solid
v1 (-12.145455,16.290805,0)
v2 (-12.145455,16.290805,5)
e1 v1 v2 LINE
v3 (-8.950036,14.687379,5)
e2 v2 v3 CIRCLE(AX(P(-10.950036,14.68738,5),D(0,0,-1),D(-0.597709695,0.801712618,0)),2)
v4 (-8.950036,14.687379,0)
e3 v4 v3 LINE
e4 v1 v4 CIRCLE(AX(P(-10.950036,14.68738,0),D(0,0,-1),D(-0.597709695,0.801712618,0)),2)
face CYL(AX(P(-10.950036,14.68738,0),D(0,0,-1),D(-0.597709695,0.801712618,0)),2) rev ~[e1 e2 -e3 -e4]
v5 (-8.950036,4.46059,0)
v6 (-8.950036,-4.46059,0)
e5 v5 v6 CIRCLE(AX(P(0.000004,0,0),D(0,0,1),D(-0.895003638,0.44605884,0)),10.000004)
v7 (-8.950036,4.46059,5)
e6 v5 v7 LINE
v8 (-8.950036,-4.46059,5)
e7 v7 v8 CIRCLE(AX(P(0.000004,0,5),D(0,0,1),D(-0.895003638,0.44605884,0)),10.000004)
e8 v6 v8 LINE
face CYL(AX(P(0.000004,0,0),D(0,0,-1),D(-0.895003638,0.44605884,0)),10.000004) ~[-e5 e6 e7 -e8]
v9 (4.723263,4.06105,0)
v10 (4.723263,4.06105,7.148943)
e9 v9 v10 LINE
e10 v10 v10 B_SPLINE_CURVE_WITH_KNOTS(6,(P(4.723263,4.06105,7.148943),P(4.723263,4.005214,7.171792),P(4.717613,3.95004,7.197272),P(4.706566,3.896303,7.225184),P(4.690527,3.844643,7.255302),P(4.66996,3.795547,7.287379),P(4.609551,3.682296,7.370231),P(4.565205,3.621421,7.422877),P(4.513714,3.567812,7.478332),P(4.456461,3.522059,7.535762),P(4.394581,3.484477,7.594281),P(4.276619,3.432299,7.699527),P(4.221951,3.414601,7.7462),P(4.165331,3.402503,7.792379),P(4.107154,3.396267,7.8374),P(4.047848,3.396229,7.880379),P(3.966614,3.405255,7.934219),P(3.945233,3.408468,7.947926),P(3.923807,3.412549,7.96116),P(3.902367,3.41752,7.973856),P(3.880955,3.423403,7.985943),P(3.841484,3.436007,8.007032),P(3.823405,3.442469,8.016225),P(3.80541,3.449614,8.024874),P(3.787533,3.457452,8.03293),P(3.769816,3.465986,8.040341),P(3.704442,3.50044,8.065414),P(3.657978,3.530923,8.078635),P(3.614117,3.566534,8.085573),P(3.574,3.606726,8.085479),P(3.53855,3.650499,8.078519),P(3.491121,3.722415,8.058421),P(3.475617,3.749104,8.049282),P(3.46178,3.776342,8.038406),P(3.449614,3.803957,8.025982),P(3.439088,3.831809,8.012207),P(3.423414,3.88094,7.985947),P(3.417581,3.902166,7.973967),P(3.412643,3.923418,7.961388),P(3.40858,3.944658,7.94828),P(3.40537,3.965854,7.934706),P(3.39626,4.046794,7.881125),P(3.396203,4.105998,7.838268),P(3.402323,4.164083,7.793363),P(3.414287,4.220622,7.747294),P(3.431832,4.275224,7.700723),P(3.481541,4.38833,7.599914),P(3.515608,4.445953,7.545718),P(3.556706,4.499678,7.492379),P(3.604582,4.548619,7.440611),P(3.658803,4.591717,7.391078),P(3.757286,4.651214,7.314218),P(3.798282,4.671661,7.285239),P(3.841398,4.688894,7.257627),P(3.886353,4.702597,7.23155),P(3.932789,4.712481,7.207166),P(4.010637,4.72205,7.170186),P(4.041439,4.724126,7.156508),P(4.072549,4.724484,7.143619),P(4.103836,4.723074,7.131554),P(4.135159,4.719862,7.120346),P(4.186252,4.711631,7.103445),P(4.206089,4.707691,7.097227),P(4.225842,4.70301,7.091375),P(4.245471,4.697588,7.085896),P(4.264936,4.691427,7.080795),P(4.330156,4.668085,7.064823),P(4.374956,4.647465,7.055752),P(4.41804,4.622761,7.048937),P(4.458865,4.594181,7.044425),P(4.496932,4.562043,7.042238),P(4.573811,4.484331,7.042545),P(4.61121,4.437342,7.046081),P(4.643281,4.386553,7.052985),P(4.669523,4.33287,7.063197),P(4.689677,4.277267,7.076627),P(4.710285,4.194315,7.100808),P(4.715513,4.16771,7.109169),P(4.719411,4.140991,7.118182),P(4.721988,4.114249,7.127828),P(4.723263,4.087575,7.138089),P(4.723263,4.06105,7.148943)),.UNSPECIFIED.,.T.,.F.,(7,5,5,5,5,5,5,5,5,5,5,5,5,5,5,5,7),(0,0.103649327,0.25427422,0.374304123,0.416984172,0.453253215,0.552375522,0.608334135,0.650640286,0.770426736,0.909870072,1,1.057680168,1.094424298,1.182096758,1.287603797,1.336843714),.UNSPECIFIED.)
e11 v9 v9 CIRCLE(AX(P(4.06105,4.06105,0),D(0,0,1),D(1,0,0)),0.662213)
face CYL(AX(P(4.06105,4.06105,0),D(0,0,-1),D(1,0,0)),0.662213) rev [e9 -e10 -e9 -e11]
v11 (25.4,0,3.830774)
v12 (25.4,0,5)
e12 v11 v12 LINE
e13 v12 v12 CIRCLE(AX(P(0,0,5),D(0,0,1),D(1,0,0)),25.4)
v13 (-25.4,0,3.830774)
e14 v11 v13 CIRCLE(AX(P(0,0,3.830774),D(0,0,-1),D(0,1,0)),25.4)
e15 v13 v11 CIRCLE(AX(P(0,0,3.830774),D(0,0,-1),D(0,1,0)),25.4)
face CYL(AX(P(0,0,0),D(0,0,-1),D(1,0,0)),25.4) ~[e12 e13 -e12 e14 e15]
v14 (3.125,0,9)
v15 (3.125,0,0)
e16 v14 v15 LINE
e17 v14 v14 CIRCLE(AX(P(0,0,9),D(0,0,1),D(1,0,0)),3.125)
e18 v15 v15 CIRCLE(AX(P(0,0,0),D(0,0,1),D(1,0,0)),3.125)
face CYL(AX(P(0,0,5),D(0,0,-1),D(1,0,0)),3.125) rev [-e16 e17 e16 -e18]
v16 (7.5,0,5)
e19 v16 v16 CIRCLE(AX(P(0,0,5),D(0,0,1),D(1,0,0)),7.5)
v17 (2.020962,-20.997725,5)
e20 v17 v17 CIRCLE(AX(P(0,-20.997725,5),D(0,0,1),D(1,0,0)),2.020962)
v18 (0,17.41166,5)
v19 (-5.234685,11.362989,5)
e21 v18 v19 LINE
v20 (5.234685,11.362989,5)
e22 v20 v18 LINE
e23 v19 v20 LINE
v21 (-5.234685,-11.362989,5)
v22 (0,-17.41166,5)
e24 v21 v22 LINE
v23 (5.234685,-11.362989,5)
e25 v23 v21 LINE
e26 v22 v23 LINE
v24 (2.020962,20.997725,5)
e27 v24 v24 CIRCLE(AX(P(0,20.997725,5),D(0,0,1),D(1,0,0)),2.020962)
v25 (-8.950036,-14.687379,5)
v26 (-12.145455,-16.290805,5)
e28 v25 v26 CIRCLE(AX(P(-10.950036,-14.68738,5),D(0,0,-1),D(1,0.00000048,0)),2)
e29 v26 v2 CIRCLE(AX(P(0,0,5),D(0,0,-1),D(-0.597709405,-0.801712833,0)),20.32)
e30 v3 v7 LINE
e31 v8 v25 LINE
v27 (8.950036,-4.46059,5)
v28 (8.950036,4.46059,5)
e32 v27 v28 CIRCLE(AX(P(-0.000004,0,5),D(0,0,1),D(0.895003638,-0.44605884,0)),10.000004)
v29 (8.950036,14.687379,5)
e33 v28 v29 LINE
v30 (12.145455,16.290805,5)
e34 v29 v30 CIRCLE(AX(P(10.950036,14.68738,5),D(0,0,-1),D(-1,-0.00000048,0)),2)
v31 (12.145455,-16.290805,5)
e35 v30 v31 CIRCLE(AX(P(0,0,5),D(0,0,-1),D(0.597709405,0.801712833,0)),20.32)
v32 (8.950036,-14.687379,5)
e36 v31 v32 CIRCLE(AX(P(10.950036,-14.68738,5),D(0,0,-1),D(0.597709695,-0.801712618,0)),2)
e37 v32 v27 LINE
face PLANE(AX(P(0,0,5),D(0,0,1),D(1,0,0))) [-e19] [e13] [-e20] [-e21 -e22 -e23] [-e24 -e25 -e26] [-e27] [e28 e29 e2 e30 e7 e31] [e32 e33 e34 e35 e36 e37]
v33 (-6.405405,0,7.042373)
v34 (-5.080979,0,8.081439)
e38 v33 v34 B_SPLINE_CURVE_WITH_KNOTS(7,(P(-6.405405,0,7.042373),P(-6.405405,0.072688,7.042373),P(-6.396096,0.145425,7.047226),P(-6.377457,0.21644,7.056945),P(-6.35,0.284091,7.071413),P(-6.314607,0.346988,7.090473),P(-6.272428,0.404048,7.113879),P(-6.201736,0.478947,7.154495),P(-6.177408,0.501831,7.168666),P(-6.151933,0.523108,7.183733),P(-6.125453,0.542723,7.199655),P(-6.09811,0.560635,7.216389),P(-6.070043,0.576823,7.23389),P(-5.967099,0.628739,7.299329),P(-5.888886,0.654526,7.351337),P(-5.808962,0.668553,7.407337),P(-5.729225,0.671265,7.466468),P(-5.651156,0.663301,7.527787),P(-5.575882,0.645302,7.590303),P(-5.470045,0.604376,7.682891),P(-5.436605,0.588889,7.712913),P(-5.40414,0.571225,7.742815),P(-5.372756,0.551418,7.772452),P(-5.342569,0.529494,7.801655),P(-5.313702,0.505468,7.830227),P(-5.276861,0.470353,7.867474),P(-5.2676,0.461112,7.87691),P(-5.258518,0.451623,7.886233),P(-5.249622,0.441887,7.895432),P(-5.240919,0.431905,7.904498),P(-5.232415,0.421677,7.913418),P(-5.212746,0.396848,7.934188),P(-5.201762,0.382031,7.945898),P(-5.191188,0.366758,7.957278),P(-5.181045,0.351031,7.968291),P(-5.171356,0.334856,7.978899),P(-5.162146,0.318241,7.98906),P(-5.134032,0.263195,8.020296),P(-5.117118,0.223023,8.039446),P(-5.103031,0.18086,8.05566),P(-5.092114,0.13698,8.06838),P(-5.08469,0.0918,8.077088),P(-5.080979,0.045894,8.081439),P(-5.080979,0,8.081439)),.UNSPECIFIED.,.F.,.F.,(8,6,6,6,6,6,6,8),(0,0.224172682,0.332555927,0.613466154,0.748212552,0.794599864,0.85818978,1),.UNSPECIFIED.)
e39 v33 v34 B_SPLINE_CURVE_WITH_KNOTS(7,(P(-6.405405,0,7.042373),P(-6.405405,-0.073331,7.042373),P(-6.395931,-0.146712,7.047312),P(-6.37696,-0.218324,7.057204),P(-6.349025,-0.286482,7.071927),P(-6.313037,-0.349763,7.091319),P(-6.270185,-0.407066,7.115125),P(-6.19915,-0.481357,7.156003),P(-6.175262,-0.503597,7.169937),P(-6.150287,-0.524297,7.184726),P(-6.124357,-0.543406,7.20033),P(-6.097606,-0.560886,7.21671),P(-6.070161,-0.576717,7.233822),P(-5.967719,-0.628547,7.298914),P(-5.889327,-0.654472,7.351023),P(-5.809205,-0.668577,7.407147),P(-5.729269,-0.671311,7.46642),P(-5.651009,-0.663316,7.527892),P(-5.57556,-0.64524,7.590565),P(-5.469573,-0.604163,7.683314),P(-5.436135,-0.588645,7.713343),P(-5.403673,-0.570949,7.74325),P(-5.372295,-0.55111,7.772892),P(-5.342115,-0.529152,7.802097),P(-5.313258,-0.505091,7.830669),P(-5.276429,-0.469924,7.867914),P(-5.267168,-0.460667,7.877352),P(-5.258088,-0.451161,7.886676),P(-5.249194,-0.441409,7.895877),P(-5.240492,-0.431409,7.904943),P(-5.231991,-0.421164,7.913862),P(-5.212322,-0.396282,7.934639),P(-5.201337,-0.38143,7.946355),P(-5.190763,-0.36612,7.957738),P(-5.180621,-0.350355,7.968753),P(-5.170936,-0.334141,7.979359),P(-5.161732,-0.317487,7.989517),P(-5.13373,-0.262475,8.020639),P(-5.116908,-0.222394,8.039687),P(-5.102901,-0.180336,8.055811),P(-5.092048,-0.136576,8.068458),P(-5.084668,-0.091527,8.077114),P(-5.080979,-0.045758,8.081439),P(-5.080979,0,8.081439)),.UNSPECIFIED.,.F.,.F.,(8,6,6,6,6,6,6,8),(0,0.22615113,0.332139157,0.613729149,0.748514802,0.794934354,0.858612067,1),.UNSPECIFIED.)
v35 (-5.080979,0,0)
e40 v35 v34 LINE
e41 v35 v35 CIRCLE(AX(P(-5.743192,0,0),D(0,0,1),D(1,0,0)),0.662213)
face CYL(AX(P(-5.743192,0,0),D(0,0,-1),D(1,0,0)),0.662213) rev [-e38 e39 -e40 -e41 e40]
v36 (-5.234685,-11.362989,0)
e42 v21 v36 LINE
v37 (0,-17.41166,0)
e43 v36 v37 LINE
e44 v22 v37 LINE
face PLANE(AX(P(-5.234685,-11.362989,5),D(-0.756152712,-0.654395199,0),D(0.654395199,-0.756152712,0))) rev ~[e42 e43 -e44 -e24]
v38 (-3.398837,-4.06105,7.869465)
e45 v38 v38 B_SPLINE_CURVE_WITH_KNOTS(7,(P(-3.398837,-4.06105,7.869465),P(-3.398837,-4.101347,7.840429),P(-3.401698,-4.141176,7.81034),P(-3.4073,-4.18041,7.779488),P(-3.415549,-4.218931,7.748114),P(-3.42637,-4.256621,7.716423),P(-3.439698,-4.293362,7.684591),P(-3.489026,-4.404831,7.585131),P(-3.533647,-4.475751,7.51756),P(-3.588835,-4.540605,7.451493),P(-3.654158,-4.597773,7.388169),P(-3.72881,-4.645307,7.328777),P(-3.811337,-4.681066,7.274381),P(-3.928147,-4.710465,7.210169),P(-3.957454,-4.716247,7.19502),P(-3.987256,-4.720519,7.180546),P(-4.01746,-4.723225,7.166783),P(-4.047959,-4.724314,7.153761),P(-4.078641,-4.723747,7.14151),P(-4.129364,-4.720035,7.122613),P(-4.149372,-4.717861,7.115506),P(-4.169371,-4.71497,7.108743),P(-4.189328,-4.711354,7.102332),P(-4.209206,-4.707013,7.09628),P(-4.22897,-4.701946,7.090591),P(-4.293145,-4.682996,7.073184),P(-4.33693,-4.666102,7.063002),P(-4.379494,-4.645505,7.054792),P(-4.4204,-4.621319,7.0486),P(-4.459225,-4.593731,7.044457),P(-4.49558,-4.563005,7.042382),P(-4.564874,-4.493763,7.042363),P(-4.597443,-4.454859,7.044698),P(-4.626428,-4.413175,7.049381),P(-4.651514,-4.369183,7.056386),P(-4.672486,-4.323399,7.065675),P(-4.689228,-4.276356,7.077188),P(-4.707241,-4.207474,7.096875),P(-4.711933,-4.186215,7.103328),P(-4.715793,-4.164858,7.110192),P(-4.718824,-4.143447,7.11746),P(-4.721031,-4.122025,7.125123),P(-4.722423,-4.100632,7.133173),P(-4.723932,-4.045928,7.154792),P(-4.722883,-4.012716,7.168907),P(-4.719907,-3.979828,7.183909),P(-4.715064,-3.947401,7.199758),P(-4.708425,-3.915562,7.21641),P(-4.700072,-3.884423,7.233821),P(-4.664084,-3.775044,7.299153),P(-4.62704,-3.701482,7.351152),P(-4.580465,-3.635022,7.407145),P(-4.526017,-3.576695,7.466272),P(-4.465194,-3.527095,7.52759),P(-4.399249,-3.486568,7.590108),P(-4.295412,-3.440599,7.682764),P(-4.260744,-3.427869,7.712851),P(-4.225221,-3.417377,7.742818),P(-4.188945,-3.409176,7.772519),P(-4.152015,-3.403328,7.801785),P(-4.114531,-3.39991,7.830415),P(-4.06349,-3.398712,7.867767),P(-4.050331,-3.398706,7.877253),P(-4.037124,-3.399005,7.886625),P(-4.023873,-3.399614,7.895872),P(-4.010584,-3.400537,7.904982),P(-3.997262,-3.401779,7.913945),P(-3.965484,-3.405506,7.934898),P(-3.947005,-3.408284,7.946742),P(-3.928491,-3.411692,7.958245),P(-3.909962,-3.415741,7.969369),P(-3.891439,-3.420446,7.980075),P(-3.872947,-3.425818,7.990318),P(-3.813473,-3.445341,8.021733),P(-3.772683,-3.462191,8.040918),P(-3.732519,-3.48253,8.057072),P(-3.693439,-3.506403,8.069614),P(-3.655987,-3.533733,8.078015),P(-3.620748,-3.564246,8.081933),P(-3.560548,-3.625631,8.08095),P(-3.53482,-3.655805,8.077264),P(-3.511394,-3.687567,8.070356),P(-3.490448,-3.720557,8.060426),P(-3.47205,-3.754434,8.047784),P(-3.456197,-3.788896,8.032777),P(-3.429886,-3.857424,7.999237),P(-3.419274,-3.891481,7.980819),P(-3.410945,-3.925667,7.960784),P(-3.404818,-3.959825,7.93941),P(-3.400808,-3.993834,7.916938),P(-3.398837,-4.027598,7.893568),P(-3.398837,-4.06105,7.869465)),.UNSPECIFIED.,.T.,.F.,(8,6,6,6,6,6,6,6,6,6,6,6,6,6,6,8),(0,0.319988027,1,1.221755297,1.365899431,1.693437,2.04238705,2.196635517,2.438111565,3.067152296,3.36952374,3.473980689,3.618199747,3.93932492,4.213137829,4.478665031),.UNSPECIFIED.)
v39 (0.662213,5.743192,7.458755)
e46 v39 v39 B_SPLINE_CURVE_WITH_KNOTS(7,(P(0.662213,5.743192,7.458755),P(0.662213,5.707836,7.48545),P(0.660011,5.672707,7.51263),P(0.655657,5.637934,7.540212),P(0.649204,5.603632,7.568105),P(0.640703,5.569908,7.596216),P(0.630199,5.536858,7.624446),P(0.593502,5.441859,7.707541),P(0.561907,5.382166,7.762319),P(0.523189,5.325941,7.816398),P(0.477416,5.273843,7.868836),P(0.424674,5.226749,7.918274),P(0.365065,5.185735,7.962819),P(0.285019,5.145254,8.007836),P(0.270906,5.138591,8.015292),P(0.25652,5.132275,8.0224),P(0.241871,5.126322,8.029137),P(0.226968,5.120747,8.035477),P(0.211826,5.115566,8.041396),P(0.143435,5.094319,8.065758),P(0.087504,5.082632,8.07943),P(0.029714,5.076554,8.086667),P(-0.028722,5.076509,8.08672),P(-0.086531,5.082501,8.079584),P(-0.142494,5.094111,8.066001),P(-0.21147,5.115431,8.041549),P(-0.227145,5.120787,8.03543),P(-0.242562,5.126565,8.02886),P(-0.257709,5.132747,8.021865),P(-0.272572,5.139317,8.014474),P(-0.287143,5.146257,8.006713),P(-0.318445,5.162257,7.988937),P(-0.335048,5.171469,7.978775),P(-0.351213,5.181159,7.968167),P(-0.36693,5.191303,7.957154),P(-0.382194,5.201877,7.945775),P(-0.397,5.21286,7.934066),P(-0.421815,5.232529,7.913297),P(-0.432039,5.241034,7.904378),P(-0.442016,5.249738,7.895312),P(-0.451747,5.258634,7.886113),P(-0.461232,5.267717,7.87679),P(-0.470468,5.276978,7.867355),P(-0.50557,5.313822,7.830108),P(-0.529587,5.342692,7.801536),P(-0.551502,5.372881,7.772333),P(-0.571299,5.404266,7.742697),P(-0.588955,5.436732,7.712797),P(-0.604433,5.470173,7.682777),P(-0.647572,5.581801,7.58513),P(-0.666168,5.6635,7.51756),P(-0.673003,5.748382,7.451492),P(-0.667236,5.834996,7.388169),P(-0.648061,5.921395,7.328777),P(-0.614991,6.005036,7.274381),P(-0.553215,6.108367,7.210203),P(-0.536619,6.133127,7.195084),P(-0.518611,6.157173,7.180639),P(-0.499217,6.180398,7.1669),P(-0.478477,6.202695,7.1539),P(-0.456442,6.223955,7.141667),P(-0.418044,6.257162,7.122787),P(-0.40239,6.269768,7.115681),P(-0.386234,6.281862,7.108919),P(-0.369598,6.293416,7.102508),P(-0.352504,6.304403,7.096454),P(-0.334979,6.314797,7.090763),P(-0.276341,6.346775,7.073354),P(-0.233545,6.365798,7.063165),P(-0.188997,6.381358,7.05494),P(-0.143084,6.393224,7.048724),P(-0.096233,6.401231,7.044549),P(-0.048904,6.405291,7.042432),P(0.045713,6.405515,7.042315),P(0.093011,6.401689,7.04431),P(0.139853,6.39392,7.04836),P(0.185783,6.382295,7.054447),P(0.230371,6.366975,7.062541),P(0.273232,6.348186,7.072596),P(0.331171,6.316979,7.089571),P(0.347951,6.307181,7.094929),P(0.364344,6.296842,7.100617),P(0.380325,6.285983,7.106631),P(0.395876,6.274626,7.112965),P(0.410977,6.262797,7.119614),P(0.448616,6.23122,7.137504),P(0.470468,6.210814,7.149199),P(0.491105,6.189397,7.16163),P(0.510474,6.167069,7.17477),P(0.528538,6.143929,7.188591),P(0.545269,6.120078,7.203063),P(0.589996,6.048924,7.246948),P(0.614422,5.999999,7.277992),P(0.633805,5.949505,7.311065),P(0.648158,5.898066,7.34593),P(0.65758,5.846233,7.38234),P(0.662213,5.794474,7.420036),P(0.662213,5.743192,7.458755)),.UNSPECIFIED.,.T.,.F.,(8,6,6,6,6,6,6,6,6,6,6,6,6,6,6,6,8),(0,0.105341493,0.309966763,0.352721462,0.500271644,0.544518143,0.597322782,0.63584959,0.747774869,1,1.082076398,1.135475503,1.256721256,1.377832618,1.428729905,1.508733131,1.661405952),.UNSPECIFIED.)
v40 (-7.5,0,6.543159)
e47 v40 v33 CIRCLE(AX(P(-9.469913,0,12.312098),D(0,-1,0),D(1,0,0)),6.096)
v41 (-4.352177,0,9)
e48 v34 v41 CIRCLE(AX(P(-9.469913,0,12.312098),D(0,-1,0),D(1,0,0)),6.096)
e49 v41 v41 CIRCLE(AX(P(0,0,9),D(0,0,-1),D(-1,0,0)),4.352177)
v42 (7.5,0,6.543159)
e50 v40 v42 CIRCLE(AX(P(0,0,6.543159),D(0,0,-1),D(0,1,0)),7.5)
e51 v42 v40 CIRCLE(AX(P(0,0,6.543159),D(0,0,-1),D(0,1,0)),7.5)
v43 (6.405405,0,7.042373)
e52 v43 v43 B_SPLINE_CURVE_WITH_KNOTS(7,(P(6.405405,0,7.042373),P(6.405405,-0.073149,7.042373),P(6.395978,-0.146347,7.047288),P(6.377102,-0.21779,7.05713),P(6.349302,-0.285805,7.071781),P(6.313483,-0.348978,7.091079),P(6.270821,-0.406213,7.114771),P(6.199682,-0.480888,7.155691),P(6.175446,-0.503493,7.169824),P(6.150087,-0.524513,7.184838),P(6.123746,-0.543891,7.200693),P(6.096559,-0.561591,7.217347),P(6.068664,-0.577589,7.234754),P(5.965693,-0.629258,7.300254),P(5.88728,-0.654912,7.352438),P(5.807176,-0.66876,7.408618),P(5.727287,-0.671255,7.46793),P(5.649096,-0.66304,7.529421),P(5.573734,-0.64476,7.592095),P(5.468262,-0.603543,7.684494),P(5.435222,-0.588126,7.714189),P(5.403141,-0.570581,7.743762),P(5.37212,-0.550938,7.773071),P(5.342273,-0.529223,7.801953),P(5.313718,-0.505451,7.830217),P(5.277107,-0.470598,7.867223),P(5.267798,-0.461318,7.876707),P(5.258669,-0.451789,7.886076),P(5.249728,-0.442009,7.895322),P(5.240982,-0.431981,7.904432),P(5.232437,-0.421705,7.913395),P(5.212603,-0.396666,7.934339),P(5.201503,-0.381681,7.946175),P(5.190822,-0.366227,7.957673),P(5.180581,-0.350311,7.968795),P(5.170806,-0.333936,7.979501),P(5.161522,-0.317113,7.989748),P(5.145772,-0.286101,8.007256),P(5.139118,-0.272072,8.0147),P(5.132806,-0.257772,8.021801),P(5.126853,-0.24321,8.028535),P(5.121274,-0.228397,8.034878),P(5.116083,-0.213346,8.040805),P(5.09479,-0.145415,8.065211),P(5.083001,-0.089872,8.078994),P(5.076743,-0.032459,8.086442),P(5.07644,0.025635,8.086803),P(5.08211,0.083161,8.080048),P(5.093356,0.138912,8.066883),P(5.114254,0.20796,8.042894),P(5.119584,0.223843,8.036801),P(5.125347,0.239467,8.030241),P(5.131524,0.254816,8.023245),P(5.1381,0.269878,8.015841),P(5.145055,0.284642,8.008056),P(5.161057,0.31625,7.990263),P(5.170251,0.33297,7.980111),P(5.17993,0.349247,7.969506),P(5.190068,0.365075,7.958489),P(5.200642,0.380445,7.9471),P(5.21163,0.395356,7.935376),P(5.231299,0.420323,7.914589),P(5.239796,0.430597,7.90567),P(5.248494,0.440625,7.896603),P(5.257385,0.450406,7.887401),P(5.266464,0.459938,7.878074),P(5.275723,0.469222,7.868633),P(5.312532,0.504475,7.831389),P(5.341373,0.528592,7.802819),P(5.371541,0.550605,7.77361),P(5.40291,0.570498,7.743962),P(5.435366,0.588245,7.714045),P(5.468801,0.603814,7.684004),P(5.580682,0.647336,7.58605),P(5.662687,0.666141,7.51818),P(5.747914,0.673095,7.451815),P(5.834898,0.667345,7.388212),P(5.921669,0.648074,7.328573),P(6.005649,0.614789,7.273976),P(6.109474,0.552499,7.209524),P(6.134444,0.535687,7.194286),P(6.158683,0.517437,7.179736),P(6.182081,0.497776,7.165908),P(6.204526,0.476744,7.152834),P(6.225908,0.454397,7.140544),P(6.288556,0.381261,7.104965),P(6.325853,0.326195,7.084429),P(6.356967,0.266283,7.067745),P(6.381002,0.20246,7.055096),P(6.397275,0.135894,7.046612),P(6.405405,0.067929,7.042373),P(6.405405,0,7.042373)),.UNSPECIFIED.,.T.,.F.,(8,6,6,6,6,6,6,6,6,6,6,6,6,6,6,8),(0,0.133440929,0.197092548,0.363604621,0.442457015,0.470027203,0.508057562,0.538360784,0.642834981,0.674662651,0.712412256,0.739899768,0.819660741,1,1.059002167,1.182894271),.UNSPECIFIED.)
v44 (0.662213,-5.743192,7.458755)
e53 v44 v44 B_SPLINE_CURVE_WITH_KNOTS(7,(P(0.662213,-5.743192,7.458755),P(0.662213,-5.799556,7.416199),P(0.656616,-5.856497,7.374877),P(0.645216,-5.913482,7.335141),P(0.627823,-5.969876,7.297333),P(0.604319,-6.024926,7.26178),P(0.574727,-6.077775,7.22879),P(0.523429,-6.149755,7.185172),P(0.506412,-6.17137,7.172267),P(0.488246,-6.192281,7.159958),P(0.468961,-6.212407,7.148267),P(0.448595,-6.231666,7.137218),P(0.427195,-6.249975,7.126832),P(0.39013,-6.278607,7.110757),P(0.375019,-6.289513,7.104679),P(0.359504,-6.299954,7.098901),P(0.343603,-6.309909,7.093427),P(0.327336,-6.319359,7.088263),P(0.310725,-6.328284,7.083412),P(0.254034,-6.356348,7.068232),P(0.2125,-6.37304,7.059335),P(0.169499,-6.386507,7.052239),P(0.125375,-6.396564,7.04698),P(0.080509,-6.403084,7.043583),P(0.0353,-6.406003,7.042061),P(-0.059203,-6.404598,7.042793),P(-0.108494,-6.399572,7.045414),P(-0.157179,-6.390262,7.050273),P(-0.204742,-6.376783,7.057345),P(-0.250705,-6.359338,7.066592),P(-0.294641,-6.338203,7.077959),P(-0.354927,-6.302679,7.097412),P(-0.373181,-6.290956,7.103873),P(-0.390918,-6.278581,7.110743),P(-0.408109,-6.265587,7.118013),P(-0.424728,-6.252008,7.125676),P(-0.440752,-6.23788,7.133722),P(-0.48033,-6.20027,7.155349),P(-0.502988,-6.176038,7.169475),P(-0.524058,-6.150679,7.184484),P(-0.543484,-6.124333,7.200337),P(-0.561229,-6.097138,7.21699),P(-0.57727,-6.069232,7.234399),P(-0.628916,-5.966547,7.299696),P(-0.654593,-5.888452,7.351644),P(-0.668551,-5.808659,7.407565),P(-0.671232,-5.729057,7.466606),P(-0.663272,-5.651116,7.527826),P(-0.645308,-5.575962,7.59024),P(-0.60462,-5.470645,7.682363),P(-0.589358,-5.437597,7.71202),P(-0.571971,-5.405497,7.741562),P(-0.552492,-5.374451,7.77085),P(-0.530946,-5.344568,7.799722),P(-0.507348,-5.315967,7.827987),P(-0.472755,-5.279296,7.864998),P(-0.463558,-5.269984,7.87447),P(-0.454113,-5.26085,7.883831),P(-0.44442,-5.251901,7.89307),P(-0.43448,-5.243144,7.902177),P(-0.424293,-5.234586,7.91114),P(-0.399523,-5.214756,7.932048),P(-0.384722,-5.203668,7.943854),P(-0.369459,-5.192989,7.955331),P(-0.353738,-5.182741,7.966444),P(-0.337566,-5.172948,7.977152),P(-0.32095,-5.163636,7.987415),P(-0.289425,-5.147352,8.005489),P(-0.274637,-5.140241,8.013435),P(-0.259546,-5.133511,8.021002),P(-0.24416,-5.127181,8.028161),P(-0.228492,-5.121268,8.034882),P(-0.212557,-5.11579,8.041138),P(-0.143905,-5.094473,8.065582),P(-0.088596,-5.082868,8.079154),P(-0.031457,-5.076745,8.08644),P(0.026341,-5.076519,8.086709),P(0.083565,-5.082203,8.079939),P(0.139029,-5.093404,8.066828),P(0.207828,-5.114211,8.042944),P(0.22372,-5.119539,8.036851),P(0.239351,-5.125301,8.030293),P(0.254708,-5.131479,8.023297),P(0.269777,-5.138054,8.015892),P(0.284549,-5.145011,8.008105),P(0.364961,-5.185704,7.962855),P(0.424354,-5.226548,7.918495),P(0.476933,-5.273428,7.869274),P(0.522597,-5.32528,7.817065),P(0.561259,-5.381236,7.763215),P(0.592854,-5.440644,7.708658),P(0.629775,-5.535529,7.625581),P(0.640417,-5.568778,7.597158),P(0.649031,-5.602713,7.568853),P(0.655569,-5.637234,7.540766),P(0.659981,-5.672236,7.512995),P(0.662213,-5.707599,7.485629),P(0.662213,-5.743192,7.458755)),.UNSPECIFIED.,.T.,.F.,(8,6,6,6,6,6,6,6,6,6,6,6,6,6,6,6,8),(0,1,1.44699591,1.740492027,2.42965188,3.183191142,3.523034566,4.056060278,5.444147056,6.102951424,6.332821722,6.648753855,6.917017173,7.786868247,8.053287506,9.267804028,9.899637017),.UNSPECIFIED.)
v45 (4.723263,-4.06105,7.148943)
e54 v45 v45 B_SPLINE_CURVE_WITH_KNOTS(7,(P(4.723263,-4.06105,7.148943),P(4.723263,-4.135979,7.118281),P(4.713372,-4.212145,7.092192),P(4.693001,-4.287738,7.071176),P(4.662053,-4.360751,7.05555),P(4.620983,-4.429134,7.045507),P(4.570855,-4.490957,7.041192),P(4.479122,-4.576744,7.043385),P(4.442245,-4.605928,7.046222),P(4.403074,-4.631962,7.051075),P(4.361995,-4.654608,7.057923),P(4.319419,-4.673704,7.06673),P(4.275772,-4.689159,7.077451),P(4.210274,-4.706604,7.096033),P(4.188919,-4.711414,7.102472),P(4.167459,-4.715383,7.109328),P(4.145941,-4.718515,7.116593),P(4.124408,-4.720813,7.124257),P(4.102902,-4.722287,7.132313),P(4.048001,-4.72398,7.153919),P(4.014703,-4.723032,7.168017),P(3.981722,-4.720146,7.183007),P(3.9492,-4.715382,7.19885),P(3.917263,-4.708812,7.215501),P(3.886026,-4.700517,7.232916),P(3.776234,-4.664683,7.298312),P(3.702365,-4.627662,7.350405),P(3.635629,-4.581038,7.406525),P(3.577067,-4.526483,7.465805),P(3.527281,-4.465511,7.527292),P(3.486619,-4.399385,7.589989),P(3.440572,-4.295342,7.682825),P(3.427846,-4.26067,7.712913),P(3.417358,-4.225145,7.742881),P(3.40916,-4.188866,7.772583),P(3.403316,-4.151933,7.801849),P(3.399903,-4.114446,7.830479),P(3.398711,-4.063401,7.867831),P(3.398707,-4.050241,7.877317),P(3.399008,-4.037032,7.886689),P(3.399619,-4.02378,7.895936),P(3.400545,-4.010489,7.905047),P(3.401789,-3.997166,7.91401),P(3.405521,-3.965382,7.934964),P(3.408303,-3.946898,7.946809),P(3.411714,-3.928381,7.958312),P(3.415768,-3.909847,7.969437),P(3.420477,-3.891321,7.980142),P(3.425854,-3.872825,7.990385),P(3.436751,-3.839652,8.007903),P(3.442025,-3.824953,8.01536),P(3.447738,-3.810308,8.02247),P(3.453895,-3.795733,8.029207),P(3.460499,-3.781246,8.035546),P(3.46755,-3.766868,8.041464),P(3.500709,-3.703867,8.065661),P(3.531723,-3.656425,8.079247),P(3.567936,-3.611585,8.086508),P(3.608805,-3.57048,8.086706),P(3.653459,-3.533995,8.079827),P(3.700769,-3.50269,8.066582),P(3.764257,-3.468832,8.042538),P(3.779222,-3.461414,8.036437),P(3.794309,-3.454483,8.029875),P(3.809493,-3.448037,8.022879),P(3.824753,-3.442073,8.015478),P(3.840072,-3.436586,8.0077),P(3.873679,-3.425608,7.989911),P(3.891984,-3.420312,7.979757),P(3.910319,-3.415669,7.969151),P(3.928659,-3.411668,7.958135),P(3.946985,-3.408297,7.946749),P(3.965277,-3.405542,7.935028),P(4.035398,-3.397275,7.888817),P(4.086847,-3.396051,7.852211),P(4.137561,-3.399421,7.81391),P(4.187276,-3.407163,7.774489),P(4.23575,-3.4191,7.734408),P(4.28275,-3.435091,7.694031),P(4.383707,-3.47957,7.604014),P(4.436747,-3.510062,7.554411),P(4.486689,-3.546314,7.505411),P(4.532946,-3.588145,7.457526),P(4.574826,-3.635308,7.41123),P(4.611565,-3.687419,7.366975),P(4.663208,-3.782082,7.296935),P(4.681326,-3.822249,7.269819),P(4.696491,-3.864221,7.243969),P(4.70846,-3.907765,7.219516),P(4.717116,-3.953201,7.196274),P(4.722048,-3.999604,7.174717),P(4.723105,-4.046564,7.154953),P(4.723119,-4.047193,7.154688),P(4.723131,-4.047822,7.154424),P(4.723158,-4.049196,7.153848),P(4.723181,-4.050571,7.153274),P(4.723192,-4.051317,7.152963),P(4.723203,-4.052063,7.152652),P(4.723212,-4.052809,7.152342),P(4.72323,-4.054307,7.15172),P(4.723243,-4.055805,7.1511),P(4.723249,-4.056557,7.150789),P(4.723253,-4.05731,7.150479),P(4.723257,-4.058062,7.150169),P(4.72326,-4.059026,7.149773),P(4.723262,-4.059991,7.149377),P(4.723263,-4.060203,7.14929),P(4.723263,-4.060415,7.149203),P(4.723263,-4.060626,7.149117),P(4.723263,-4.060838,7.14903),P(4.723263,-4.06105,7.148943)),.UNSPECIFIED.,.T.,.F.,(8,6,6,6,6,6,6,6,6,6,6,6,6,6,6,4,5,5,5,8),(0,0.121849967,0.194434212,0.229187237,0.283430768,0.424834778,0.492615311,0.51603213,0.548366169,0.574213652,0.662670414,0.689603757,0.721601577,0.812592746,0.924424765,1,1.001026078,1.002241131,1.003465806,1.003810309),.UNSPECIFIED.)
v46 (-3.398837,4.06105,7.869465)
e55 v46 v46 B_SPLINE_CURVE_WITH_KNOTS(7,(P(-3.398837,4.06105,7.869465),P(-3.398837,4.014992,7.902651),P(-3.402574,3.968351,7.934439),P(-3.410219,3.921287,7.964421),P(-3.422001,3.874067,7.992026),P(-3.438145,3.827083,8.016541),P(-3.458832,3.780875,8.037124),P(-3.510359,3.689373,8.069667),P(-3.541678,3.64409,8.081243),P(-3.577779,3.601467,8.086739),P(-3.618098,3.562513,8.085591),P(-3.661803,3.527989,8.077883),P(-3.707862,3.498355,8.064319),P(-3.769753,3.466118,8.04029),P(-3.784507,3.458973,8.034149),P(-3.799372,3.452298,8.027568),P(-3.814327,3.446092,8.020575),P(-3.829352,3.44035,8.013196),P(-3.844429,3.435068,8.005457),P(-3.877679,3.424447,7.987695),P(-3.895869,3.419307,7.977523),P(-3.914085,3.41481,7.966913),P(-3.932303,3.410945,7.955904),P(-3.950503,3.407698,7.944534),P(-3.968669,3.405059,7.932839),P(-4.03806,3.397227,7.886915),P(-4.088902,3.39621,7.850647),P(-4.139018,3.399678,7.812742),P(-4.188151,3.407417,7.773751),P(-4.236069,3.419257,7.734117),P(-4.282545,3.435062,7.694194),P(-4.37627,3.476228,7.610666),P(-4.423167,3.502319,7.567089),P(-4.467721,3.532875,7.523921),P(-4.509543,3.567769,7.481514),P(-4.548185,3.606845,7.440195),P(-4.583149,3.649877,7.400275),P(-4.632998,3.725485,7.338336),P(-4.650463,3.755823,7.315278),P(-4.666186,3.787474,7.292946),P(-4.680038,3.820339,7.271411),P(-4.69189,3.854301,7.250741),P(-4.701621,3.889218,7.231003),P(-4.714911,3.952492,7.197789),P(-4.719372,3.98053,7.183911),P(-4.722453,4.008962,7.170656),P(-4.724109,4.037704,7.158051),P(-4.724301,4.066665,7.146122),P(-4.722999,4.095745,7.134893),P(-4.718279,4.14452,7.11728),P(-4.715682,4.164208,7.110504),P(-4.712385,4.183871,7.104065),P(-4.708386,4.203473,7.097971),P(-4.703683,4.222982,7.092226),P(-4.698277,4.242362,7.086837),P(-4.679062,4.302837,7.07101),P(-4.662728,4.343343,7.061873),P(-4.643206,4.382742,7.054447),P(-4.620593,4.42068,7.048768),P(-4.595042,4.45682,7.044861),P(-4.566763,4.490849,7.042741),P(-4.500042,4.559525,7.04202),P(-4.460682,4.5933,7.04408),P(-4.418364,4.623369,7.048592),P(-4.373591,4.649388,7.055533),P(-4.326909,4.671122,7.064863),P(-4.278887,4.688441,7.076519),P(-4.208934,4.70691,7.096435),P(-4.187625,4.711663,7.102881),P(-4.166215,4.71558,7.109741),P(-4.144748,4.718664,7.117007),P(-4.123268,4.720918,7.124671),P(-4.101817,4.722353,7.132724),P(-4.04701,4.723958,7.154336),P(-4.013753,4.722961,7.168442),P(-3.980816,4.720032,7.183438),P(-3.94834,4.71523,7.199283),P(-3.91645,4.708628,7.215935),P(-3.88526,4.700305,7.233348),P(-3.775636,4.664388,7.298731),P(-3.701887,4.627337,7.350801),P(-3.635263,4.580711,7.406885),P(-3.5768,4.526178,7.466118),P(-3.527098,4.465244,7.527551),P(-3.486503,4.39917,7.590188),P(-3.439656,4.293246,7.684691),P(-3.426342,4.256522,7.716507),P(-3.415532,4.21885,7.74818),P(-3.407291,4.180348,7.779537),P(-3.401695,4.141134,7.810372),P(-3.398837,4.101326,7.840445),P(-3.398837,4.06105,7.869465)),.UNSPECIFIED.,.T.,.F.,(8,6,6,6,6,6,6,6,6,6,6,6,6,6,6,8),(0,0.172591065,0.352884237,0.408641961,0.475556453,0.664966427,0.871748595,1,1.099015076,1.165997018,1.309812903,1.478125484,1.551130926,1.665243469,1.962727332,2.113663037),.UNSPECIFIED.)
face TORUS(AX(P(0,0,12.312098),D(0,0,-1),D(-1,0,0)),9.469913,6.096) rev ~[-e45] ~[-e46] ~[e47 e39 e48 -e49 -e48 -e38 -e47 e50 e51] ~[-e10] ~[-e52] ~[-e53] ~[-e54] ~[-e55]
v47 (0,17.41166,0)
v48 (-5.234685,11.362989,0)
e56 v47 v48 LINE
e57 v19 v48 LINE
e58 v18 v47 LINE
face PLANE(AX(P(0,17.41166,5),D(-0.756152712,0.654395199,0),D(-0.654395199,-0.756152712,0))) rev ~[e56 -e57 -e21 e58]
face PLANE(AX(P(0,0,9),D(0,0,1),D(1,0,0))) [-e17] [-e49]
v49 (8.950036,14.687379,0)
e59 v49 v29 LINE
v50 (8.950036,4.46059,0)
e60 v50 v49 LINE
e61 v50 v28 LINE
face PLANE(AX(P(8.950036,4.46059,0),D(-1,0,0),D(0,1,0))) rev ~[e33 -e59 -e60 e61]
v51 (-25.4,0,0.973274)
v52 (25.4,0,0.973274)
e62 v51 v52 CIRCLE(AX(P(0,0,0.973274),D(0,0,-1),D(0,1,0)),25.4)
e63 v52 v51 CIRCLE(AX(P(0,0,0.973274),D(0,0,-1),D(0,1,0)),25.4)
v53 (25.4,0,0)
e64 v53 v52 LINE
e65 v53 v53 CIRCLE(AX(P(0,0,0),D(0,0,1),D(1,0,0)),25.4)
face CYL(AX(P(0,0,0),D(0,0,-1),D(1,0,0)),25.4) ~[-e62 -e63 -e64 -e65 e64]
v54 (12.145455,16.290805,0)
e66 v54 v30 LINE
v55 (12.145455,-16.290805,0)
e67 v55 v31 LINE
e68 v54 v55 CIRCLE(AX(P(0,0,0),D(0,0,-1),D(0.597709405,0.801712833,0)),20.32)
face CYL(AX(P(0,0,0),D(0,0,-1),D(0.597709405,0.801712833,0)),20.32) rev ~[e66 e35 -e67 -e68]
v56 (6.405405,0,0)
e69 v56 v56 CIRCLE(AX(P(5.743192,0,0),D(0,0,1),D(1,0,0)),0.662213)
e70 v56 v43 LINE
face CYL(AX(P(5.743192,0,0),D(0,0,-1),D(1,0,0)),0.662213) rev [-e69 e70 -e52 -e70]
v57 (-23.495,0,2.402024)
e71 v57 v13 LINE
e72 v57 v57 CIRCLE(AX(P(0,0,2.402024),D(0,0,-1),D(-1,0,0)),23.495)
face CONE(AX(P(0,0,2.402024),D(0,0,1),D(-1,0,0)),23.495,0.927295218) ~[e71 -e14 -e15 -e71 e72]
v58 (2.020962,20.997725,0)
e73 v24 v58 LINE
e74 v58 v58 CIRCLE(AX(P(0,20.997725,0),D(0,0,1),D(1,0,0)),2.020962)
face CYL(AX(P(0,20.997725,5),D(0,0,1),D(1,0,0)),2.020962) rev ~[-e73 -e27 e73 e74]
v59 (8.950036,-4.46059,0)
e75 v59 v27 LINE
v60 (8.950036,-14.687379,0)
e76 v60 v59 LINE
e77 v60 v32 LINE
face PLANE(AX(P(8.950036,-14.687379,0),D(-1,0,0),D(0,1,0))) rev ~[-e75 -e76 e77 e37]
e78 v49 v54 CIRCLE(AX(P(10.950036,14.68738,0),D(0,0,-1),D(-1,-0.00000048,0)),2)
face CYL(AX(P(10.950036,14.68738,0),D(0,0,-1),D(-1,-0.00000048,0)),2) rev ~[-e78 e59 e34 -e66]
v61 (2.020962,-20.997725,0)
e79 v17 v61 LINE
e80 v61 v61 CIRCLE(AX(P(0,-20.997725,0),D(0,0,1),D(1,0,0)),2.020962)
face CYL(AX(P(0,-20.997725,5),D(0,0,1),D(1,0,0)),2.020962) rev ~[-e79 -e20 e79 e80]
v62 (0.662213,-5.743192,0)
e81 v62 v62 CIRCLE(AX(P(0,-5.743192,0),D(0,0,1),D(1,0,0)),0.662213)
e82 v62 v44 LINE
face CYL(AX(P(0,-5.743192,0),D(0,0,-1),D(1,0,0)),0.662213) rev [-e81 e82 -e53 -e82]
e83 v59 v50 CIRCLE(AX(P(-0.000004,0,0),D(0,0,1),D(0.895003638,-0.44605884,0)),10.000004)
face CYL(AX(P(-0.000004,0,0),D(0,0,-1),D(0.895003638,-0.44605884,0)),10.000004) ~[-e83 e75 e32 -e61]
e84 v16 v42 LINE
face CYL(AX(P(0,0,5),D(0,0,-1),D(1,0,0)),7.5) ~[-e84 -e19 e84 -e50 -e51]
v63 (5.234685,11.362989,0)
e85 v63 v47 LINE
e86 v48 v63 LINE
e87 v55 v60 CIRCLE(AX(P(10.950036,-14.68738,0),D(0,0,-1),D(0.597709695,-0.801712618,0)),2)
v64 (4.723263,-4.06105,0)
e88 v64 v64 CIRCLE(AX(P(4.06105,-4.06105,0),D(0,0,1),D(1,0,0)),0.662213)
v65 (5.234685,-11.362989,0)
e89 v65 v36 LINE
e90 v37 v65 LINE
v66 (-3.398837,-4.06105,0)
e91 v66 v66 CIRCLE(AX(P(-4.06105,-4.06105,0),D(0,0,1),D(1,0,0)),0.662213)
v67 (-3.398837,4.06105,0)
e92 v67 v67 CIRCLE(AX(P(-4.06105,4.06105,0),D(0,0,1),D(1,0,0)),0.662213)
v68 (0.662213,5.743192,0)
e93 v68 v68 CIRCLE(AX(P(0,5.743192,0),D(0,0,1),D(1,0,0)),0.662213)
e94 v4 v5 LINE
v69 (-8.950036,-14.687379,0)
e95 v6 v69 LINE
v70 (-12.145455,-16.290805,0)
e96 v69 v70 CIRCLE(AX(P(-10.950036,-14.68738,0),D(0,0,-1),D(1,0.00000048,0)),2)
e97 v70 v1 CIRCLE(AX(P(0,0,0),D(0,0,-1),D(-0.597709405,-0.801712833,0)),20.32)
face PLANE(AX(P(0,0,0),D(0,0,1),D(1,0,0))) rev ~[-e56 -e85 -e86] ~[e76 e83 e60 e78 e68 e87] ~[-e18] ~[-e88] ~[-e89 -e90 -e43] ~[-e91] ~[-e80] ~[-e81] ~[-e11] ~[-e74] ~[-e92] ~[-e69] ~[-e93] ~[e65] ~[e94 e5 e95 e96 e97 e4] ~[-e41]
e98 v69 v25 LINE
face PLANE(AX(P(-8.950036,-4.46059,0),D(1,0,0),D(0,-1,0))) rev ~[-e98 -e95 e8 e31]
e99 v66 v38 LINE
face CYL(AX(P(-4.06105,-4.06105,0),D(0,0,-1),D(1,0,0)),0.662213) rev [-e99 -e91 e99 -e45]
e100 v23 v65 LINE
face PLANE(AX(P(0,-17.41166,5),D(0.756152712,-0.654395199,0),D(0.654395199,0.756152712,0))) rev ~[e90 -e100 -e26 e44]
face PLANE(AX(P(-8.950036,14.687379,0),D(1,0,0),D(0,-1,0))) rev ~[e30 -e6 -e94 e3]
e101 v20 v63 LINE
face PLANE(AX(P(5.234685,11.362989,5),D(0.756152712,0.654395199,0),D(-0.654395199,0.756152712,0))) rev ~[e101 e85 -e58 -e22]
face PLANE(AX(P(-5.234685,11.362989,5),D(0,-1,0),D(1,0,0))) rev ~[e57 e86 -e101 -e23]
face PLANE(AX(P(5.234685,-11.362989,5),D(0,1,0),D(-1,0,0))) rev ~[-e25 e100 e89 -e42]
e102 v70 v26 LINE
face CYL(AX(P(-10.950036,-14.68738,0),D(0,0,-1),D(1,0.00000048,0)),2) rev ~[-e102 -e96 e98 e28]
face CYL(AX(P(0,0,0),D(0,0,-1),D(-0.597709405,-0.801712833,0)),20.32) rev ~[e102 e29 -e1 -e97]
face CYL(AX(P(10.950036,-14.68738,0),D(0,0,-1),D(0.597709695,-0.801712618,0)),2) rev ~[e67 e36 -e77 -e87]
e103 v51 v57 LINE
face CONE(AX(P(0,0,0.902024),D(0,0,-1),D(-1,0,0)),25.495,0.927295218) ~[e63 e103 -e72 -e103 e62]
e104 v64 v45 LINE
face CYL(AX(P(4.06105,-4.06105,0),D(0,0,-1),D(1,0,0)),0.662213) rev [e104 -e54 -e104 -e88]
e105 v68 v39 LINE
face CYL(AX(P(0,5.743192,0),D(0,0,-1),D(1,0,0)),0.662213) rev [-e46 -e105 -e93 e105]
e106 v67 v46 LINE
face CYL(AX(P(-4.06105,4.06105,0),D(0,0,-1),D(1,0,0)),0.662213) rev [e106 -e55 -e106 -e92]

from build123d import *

# Parameters (mm, degrees)
F0_R      = 25.4
F0_R_2    = 3.125
F1_DEPTH  = 5
F2_R      = 7.5
F2_R_2    = 3.125
F3_DEPTH  = 4
F4_R      = 6.096
F6_R      = 2.020962
F7_DEPTH  = 5.001
F10_R     = 0.662213
F11_DEPTH = 9.001


with BuildPart() as f1:
    # F0 (on Top) → F1 (new body)
    with BuildSketch(Plane.XY):
        Circle(F0_R)
        with BuildLine():
            Line((-8.950036, 14.687379), (-8.950036, 4.46059))
            ThreePointArc((-8.950036, 4.46059), (-10, 0), (-8.950036, -4.46059))
            Line((-8.950036, -4.46059), (-8.950036, -14.687379))
            ThreePointArc((-8.950036, -14.687379), (-10.053051, -16.474953), (-12.145455, -16.290805))
            ThreePointArc((-12.145455, -16.290805), (-20.32, 0), (-12.145455, 16.290805))
            ThreePointArc((-12.145455, 16.290805), (-10.053051, 16.474953), (-8.950036, 14.687379))
        make_face(mode=Mode.SUBTRACT)
        Circle(F0_R_2, mode=Mode.SUBTRACT)
        with BuildLine():
            Line((8.950036, 4.46059), (8.950036, 14.687379))
            ThreePointArc((8.950036, 14.687379), (10.053051, 16.474953), (12.145455, 16.290805))
            ThreePointArc((12.145455, 16.290805), (20.32, 0), (12.145455, -16.290805))
            ThreePointArc((12.145455, -16.290805), (10.053051, -16.474953), (8.950036, -14.687379))
            Line((8.950036, -14.687379), (8.950036, -4.46059))
            ThreePointArc((8.950036, -4.46059), (10, 0), (8.950036, 4.46059))
        make_face(mode=Mode.SUBTRACT)
    extrude(amount=F1_DEPTH)

    # F2 (on face) → F3 (join)
    with BuildSketch(Plane.XY.offset(5)):
        Circle(F2_R)
        Circle(F2_R_2, mode=Mode.SUBTRACT)
    extrude(amount=F3_DEPTH)

    # F4 (on Front) → F5 (revolve, cut)
    with BuildSketch(Plane.XZ):
        with Locations((-9.469913, 12.312098)):
            Circle(F4_R)
    revolve(axis=Axis((0, 0, 5.050069), (0, 0, -1)), mode=Mode.SUBTRACT)

    # F6 (on face) → F7 (cut, through all)
    with BuildSketch(Plane.XY.offset(5)):
        Polygon((-5.234685, 11.362989), (0, 11.362989), (0, 17.41166), align=None)
        Polygon((0, 17.41166), (0, 11.362989), (5.234685, 11.362989), align=None)
        Polygon((0, -11.362989), (-5.234685, -11.362989), (0, -17.41166), (5.234685, -11.362989), align=None)
        with Locations((0, 20.997725)):
            Circle(F6_R)
        with Locations((0, -20.997725)):
            Circle(F6_R)
    extrude(amount=-F7_DEPTH, mode=Mode.SUBTRACT)

    # F8 (on Front) → F9 (revolve, cut)
    with BuildSketch(Plane.XZ):
        Polygon((-25.495, 3.902024), (-25.495, 2.402024), (-23.495, 2.402024), align=None)
        Polygon((-23.495, 2.402024), (-25.495, 2.402024), (-25.495, 0.902024), align=None)
    revolve(axis=Axis((0, 0, 20.538263), (0, 0, -1)), mode=Mode.SUBTRACT)

    # F10 (on face) → F11 (cut, through all)
    with BuildSketch(Plane.XY):
        with Locations((0, 5.743192)):
            Circle(F10_R)
        with Locations((-4.06105, 4.06105)):
            Circle(F10_R)
        with Locations((-5.743192, 0)):
            Circle(F10_R)
        with Locations((-4.06105, -4.06105)):
            Circle(F10_R)
        with Locations((0, -5.743192)):
            Circle(F10_R)
        with Locations((4.06105, -4.06105)):
            Circle(F10_R)
        with Locations((5.743192, 0)):
            Circle(F10_R)
        with Locations((4.06105, 4.06105)):
            Circle(F10_R)
    extrude(amount=F11_DEPTH, mode=Mode.SUBTRACT)


solid = f1.part
